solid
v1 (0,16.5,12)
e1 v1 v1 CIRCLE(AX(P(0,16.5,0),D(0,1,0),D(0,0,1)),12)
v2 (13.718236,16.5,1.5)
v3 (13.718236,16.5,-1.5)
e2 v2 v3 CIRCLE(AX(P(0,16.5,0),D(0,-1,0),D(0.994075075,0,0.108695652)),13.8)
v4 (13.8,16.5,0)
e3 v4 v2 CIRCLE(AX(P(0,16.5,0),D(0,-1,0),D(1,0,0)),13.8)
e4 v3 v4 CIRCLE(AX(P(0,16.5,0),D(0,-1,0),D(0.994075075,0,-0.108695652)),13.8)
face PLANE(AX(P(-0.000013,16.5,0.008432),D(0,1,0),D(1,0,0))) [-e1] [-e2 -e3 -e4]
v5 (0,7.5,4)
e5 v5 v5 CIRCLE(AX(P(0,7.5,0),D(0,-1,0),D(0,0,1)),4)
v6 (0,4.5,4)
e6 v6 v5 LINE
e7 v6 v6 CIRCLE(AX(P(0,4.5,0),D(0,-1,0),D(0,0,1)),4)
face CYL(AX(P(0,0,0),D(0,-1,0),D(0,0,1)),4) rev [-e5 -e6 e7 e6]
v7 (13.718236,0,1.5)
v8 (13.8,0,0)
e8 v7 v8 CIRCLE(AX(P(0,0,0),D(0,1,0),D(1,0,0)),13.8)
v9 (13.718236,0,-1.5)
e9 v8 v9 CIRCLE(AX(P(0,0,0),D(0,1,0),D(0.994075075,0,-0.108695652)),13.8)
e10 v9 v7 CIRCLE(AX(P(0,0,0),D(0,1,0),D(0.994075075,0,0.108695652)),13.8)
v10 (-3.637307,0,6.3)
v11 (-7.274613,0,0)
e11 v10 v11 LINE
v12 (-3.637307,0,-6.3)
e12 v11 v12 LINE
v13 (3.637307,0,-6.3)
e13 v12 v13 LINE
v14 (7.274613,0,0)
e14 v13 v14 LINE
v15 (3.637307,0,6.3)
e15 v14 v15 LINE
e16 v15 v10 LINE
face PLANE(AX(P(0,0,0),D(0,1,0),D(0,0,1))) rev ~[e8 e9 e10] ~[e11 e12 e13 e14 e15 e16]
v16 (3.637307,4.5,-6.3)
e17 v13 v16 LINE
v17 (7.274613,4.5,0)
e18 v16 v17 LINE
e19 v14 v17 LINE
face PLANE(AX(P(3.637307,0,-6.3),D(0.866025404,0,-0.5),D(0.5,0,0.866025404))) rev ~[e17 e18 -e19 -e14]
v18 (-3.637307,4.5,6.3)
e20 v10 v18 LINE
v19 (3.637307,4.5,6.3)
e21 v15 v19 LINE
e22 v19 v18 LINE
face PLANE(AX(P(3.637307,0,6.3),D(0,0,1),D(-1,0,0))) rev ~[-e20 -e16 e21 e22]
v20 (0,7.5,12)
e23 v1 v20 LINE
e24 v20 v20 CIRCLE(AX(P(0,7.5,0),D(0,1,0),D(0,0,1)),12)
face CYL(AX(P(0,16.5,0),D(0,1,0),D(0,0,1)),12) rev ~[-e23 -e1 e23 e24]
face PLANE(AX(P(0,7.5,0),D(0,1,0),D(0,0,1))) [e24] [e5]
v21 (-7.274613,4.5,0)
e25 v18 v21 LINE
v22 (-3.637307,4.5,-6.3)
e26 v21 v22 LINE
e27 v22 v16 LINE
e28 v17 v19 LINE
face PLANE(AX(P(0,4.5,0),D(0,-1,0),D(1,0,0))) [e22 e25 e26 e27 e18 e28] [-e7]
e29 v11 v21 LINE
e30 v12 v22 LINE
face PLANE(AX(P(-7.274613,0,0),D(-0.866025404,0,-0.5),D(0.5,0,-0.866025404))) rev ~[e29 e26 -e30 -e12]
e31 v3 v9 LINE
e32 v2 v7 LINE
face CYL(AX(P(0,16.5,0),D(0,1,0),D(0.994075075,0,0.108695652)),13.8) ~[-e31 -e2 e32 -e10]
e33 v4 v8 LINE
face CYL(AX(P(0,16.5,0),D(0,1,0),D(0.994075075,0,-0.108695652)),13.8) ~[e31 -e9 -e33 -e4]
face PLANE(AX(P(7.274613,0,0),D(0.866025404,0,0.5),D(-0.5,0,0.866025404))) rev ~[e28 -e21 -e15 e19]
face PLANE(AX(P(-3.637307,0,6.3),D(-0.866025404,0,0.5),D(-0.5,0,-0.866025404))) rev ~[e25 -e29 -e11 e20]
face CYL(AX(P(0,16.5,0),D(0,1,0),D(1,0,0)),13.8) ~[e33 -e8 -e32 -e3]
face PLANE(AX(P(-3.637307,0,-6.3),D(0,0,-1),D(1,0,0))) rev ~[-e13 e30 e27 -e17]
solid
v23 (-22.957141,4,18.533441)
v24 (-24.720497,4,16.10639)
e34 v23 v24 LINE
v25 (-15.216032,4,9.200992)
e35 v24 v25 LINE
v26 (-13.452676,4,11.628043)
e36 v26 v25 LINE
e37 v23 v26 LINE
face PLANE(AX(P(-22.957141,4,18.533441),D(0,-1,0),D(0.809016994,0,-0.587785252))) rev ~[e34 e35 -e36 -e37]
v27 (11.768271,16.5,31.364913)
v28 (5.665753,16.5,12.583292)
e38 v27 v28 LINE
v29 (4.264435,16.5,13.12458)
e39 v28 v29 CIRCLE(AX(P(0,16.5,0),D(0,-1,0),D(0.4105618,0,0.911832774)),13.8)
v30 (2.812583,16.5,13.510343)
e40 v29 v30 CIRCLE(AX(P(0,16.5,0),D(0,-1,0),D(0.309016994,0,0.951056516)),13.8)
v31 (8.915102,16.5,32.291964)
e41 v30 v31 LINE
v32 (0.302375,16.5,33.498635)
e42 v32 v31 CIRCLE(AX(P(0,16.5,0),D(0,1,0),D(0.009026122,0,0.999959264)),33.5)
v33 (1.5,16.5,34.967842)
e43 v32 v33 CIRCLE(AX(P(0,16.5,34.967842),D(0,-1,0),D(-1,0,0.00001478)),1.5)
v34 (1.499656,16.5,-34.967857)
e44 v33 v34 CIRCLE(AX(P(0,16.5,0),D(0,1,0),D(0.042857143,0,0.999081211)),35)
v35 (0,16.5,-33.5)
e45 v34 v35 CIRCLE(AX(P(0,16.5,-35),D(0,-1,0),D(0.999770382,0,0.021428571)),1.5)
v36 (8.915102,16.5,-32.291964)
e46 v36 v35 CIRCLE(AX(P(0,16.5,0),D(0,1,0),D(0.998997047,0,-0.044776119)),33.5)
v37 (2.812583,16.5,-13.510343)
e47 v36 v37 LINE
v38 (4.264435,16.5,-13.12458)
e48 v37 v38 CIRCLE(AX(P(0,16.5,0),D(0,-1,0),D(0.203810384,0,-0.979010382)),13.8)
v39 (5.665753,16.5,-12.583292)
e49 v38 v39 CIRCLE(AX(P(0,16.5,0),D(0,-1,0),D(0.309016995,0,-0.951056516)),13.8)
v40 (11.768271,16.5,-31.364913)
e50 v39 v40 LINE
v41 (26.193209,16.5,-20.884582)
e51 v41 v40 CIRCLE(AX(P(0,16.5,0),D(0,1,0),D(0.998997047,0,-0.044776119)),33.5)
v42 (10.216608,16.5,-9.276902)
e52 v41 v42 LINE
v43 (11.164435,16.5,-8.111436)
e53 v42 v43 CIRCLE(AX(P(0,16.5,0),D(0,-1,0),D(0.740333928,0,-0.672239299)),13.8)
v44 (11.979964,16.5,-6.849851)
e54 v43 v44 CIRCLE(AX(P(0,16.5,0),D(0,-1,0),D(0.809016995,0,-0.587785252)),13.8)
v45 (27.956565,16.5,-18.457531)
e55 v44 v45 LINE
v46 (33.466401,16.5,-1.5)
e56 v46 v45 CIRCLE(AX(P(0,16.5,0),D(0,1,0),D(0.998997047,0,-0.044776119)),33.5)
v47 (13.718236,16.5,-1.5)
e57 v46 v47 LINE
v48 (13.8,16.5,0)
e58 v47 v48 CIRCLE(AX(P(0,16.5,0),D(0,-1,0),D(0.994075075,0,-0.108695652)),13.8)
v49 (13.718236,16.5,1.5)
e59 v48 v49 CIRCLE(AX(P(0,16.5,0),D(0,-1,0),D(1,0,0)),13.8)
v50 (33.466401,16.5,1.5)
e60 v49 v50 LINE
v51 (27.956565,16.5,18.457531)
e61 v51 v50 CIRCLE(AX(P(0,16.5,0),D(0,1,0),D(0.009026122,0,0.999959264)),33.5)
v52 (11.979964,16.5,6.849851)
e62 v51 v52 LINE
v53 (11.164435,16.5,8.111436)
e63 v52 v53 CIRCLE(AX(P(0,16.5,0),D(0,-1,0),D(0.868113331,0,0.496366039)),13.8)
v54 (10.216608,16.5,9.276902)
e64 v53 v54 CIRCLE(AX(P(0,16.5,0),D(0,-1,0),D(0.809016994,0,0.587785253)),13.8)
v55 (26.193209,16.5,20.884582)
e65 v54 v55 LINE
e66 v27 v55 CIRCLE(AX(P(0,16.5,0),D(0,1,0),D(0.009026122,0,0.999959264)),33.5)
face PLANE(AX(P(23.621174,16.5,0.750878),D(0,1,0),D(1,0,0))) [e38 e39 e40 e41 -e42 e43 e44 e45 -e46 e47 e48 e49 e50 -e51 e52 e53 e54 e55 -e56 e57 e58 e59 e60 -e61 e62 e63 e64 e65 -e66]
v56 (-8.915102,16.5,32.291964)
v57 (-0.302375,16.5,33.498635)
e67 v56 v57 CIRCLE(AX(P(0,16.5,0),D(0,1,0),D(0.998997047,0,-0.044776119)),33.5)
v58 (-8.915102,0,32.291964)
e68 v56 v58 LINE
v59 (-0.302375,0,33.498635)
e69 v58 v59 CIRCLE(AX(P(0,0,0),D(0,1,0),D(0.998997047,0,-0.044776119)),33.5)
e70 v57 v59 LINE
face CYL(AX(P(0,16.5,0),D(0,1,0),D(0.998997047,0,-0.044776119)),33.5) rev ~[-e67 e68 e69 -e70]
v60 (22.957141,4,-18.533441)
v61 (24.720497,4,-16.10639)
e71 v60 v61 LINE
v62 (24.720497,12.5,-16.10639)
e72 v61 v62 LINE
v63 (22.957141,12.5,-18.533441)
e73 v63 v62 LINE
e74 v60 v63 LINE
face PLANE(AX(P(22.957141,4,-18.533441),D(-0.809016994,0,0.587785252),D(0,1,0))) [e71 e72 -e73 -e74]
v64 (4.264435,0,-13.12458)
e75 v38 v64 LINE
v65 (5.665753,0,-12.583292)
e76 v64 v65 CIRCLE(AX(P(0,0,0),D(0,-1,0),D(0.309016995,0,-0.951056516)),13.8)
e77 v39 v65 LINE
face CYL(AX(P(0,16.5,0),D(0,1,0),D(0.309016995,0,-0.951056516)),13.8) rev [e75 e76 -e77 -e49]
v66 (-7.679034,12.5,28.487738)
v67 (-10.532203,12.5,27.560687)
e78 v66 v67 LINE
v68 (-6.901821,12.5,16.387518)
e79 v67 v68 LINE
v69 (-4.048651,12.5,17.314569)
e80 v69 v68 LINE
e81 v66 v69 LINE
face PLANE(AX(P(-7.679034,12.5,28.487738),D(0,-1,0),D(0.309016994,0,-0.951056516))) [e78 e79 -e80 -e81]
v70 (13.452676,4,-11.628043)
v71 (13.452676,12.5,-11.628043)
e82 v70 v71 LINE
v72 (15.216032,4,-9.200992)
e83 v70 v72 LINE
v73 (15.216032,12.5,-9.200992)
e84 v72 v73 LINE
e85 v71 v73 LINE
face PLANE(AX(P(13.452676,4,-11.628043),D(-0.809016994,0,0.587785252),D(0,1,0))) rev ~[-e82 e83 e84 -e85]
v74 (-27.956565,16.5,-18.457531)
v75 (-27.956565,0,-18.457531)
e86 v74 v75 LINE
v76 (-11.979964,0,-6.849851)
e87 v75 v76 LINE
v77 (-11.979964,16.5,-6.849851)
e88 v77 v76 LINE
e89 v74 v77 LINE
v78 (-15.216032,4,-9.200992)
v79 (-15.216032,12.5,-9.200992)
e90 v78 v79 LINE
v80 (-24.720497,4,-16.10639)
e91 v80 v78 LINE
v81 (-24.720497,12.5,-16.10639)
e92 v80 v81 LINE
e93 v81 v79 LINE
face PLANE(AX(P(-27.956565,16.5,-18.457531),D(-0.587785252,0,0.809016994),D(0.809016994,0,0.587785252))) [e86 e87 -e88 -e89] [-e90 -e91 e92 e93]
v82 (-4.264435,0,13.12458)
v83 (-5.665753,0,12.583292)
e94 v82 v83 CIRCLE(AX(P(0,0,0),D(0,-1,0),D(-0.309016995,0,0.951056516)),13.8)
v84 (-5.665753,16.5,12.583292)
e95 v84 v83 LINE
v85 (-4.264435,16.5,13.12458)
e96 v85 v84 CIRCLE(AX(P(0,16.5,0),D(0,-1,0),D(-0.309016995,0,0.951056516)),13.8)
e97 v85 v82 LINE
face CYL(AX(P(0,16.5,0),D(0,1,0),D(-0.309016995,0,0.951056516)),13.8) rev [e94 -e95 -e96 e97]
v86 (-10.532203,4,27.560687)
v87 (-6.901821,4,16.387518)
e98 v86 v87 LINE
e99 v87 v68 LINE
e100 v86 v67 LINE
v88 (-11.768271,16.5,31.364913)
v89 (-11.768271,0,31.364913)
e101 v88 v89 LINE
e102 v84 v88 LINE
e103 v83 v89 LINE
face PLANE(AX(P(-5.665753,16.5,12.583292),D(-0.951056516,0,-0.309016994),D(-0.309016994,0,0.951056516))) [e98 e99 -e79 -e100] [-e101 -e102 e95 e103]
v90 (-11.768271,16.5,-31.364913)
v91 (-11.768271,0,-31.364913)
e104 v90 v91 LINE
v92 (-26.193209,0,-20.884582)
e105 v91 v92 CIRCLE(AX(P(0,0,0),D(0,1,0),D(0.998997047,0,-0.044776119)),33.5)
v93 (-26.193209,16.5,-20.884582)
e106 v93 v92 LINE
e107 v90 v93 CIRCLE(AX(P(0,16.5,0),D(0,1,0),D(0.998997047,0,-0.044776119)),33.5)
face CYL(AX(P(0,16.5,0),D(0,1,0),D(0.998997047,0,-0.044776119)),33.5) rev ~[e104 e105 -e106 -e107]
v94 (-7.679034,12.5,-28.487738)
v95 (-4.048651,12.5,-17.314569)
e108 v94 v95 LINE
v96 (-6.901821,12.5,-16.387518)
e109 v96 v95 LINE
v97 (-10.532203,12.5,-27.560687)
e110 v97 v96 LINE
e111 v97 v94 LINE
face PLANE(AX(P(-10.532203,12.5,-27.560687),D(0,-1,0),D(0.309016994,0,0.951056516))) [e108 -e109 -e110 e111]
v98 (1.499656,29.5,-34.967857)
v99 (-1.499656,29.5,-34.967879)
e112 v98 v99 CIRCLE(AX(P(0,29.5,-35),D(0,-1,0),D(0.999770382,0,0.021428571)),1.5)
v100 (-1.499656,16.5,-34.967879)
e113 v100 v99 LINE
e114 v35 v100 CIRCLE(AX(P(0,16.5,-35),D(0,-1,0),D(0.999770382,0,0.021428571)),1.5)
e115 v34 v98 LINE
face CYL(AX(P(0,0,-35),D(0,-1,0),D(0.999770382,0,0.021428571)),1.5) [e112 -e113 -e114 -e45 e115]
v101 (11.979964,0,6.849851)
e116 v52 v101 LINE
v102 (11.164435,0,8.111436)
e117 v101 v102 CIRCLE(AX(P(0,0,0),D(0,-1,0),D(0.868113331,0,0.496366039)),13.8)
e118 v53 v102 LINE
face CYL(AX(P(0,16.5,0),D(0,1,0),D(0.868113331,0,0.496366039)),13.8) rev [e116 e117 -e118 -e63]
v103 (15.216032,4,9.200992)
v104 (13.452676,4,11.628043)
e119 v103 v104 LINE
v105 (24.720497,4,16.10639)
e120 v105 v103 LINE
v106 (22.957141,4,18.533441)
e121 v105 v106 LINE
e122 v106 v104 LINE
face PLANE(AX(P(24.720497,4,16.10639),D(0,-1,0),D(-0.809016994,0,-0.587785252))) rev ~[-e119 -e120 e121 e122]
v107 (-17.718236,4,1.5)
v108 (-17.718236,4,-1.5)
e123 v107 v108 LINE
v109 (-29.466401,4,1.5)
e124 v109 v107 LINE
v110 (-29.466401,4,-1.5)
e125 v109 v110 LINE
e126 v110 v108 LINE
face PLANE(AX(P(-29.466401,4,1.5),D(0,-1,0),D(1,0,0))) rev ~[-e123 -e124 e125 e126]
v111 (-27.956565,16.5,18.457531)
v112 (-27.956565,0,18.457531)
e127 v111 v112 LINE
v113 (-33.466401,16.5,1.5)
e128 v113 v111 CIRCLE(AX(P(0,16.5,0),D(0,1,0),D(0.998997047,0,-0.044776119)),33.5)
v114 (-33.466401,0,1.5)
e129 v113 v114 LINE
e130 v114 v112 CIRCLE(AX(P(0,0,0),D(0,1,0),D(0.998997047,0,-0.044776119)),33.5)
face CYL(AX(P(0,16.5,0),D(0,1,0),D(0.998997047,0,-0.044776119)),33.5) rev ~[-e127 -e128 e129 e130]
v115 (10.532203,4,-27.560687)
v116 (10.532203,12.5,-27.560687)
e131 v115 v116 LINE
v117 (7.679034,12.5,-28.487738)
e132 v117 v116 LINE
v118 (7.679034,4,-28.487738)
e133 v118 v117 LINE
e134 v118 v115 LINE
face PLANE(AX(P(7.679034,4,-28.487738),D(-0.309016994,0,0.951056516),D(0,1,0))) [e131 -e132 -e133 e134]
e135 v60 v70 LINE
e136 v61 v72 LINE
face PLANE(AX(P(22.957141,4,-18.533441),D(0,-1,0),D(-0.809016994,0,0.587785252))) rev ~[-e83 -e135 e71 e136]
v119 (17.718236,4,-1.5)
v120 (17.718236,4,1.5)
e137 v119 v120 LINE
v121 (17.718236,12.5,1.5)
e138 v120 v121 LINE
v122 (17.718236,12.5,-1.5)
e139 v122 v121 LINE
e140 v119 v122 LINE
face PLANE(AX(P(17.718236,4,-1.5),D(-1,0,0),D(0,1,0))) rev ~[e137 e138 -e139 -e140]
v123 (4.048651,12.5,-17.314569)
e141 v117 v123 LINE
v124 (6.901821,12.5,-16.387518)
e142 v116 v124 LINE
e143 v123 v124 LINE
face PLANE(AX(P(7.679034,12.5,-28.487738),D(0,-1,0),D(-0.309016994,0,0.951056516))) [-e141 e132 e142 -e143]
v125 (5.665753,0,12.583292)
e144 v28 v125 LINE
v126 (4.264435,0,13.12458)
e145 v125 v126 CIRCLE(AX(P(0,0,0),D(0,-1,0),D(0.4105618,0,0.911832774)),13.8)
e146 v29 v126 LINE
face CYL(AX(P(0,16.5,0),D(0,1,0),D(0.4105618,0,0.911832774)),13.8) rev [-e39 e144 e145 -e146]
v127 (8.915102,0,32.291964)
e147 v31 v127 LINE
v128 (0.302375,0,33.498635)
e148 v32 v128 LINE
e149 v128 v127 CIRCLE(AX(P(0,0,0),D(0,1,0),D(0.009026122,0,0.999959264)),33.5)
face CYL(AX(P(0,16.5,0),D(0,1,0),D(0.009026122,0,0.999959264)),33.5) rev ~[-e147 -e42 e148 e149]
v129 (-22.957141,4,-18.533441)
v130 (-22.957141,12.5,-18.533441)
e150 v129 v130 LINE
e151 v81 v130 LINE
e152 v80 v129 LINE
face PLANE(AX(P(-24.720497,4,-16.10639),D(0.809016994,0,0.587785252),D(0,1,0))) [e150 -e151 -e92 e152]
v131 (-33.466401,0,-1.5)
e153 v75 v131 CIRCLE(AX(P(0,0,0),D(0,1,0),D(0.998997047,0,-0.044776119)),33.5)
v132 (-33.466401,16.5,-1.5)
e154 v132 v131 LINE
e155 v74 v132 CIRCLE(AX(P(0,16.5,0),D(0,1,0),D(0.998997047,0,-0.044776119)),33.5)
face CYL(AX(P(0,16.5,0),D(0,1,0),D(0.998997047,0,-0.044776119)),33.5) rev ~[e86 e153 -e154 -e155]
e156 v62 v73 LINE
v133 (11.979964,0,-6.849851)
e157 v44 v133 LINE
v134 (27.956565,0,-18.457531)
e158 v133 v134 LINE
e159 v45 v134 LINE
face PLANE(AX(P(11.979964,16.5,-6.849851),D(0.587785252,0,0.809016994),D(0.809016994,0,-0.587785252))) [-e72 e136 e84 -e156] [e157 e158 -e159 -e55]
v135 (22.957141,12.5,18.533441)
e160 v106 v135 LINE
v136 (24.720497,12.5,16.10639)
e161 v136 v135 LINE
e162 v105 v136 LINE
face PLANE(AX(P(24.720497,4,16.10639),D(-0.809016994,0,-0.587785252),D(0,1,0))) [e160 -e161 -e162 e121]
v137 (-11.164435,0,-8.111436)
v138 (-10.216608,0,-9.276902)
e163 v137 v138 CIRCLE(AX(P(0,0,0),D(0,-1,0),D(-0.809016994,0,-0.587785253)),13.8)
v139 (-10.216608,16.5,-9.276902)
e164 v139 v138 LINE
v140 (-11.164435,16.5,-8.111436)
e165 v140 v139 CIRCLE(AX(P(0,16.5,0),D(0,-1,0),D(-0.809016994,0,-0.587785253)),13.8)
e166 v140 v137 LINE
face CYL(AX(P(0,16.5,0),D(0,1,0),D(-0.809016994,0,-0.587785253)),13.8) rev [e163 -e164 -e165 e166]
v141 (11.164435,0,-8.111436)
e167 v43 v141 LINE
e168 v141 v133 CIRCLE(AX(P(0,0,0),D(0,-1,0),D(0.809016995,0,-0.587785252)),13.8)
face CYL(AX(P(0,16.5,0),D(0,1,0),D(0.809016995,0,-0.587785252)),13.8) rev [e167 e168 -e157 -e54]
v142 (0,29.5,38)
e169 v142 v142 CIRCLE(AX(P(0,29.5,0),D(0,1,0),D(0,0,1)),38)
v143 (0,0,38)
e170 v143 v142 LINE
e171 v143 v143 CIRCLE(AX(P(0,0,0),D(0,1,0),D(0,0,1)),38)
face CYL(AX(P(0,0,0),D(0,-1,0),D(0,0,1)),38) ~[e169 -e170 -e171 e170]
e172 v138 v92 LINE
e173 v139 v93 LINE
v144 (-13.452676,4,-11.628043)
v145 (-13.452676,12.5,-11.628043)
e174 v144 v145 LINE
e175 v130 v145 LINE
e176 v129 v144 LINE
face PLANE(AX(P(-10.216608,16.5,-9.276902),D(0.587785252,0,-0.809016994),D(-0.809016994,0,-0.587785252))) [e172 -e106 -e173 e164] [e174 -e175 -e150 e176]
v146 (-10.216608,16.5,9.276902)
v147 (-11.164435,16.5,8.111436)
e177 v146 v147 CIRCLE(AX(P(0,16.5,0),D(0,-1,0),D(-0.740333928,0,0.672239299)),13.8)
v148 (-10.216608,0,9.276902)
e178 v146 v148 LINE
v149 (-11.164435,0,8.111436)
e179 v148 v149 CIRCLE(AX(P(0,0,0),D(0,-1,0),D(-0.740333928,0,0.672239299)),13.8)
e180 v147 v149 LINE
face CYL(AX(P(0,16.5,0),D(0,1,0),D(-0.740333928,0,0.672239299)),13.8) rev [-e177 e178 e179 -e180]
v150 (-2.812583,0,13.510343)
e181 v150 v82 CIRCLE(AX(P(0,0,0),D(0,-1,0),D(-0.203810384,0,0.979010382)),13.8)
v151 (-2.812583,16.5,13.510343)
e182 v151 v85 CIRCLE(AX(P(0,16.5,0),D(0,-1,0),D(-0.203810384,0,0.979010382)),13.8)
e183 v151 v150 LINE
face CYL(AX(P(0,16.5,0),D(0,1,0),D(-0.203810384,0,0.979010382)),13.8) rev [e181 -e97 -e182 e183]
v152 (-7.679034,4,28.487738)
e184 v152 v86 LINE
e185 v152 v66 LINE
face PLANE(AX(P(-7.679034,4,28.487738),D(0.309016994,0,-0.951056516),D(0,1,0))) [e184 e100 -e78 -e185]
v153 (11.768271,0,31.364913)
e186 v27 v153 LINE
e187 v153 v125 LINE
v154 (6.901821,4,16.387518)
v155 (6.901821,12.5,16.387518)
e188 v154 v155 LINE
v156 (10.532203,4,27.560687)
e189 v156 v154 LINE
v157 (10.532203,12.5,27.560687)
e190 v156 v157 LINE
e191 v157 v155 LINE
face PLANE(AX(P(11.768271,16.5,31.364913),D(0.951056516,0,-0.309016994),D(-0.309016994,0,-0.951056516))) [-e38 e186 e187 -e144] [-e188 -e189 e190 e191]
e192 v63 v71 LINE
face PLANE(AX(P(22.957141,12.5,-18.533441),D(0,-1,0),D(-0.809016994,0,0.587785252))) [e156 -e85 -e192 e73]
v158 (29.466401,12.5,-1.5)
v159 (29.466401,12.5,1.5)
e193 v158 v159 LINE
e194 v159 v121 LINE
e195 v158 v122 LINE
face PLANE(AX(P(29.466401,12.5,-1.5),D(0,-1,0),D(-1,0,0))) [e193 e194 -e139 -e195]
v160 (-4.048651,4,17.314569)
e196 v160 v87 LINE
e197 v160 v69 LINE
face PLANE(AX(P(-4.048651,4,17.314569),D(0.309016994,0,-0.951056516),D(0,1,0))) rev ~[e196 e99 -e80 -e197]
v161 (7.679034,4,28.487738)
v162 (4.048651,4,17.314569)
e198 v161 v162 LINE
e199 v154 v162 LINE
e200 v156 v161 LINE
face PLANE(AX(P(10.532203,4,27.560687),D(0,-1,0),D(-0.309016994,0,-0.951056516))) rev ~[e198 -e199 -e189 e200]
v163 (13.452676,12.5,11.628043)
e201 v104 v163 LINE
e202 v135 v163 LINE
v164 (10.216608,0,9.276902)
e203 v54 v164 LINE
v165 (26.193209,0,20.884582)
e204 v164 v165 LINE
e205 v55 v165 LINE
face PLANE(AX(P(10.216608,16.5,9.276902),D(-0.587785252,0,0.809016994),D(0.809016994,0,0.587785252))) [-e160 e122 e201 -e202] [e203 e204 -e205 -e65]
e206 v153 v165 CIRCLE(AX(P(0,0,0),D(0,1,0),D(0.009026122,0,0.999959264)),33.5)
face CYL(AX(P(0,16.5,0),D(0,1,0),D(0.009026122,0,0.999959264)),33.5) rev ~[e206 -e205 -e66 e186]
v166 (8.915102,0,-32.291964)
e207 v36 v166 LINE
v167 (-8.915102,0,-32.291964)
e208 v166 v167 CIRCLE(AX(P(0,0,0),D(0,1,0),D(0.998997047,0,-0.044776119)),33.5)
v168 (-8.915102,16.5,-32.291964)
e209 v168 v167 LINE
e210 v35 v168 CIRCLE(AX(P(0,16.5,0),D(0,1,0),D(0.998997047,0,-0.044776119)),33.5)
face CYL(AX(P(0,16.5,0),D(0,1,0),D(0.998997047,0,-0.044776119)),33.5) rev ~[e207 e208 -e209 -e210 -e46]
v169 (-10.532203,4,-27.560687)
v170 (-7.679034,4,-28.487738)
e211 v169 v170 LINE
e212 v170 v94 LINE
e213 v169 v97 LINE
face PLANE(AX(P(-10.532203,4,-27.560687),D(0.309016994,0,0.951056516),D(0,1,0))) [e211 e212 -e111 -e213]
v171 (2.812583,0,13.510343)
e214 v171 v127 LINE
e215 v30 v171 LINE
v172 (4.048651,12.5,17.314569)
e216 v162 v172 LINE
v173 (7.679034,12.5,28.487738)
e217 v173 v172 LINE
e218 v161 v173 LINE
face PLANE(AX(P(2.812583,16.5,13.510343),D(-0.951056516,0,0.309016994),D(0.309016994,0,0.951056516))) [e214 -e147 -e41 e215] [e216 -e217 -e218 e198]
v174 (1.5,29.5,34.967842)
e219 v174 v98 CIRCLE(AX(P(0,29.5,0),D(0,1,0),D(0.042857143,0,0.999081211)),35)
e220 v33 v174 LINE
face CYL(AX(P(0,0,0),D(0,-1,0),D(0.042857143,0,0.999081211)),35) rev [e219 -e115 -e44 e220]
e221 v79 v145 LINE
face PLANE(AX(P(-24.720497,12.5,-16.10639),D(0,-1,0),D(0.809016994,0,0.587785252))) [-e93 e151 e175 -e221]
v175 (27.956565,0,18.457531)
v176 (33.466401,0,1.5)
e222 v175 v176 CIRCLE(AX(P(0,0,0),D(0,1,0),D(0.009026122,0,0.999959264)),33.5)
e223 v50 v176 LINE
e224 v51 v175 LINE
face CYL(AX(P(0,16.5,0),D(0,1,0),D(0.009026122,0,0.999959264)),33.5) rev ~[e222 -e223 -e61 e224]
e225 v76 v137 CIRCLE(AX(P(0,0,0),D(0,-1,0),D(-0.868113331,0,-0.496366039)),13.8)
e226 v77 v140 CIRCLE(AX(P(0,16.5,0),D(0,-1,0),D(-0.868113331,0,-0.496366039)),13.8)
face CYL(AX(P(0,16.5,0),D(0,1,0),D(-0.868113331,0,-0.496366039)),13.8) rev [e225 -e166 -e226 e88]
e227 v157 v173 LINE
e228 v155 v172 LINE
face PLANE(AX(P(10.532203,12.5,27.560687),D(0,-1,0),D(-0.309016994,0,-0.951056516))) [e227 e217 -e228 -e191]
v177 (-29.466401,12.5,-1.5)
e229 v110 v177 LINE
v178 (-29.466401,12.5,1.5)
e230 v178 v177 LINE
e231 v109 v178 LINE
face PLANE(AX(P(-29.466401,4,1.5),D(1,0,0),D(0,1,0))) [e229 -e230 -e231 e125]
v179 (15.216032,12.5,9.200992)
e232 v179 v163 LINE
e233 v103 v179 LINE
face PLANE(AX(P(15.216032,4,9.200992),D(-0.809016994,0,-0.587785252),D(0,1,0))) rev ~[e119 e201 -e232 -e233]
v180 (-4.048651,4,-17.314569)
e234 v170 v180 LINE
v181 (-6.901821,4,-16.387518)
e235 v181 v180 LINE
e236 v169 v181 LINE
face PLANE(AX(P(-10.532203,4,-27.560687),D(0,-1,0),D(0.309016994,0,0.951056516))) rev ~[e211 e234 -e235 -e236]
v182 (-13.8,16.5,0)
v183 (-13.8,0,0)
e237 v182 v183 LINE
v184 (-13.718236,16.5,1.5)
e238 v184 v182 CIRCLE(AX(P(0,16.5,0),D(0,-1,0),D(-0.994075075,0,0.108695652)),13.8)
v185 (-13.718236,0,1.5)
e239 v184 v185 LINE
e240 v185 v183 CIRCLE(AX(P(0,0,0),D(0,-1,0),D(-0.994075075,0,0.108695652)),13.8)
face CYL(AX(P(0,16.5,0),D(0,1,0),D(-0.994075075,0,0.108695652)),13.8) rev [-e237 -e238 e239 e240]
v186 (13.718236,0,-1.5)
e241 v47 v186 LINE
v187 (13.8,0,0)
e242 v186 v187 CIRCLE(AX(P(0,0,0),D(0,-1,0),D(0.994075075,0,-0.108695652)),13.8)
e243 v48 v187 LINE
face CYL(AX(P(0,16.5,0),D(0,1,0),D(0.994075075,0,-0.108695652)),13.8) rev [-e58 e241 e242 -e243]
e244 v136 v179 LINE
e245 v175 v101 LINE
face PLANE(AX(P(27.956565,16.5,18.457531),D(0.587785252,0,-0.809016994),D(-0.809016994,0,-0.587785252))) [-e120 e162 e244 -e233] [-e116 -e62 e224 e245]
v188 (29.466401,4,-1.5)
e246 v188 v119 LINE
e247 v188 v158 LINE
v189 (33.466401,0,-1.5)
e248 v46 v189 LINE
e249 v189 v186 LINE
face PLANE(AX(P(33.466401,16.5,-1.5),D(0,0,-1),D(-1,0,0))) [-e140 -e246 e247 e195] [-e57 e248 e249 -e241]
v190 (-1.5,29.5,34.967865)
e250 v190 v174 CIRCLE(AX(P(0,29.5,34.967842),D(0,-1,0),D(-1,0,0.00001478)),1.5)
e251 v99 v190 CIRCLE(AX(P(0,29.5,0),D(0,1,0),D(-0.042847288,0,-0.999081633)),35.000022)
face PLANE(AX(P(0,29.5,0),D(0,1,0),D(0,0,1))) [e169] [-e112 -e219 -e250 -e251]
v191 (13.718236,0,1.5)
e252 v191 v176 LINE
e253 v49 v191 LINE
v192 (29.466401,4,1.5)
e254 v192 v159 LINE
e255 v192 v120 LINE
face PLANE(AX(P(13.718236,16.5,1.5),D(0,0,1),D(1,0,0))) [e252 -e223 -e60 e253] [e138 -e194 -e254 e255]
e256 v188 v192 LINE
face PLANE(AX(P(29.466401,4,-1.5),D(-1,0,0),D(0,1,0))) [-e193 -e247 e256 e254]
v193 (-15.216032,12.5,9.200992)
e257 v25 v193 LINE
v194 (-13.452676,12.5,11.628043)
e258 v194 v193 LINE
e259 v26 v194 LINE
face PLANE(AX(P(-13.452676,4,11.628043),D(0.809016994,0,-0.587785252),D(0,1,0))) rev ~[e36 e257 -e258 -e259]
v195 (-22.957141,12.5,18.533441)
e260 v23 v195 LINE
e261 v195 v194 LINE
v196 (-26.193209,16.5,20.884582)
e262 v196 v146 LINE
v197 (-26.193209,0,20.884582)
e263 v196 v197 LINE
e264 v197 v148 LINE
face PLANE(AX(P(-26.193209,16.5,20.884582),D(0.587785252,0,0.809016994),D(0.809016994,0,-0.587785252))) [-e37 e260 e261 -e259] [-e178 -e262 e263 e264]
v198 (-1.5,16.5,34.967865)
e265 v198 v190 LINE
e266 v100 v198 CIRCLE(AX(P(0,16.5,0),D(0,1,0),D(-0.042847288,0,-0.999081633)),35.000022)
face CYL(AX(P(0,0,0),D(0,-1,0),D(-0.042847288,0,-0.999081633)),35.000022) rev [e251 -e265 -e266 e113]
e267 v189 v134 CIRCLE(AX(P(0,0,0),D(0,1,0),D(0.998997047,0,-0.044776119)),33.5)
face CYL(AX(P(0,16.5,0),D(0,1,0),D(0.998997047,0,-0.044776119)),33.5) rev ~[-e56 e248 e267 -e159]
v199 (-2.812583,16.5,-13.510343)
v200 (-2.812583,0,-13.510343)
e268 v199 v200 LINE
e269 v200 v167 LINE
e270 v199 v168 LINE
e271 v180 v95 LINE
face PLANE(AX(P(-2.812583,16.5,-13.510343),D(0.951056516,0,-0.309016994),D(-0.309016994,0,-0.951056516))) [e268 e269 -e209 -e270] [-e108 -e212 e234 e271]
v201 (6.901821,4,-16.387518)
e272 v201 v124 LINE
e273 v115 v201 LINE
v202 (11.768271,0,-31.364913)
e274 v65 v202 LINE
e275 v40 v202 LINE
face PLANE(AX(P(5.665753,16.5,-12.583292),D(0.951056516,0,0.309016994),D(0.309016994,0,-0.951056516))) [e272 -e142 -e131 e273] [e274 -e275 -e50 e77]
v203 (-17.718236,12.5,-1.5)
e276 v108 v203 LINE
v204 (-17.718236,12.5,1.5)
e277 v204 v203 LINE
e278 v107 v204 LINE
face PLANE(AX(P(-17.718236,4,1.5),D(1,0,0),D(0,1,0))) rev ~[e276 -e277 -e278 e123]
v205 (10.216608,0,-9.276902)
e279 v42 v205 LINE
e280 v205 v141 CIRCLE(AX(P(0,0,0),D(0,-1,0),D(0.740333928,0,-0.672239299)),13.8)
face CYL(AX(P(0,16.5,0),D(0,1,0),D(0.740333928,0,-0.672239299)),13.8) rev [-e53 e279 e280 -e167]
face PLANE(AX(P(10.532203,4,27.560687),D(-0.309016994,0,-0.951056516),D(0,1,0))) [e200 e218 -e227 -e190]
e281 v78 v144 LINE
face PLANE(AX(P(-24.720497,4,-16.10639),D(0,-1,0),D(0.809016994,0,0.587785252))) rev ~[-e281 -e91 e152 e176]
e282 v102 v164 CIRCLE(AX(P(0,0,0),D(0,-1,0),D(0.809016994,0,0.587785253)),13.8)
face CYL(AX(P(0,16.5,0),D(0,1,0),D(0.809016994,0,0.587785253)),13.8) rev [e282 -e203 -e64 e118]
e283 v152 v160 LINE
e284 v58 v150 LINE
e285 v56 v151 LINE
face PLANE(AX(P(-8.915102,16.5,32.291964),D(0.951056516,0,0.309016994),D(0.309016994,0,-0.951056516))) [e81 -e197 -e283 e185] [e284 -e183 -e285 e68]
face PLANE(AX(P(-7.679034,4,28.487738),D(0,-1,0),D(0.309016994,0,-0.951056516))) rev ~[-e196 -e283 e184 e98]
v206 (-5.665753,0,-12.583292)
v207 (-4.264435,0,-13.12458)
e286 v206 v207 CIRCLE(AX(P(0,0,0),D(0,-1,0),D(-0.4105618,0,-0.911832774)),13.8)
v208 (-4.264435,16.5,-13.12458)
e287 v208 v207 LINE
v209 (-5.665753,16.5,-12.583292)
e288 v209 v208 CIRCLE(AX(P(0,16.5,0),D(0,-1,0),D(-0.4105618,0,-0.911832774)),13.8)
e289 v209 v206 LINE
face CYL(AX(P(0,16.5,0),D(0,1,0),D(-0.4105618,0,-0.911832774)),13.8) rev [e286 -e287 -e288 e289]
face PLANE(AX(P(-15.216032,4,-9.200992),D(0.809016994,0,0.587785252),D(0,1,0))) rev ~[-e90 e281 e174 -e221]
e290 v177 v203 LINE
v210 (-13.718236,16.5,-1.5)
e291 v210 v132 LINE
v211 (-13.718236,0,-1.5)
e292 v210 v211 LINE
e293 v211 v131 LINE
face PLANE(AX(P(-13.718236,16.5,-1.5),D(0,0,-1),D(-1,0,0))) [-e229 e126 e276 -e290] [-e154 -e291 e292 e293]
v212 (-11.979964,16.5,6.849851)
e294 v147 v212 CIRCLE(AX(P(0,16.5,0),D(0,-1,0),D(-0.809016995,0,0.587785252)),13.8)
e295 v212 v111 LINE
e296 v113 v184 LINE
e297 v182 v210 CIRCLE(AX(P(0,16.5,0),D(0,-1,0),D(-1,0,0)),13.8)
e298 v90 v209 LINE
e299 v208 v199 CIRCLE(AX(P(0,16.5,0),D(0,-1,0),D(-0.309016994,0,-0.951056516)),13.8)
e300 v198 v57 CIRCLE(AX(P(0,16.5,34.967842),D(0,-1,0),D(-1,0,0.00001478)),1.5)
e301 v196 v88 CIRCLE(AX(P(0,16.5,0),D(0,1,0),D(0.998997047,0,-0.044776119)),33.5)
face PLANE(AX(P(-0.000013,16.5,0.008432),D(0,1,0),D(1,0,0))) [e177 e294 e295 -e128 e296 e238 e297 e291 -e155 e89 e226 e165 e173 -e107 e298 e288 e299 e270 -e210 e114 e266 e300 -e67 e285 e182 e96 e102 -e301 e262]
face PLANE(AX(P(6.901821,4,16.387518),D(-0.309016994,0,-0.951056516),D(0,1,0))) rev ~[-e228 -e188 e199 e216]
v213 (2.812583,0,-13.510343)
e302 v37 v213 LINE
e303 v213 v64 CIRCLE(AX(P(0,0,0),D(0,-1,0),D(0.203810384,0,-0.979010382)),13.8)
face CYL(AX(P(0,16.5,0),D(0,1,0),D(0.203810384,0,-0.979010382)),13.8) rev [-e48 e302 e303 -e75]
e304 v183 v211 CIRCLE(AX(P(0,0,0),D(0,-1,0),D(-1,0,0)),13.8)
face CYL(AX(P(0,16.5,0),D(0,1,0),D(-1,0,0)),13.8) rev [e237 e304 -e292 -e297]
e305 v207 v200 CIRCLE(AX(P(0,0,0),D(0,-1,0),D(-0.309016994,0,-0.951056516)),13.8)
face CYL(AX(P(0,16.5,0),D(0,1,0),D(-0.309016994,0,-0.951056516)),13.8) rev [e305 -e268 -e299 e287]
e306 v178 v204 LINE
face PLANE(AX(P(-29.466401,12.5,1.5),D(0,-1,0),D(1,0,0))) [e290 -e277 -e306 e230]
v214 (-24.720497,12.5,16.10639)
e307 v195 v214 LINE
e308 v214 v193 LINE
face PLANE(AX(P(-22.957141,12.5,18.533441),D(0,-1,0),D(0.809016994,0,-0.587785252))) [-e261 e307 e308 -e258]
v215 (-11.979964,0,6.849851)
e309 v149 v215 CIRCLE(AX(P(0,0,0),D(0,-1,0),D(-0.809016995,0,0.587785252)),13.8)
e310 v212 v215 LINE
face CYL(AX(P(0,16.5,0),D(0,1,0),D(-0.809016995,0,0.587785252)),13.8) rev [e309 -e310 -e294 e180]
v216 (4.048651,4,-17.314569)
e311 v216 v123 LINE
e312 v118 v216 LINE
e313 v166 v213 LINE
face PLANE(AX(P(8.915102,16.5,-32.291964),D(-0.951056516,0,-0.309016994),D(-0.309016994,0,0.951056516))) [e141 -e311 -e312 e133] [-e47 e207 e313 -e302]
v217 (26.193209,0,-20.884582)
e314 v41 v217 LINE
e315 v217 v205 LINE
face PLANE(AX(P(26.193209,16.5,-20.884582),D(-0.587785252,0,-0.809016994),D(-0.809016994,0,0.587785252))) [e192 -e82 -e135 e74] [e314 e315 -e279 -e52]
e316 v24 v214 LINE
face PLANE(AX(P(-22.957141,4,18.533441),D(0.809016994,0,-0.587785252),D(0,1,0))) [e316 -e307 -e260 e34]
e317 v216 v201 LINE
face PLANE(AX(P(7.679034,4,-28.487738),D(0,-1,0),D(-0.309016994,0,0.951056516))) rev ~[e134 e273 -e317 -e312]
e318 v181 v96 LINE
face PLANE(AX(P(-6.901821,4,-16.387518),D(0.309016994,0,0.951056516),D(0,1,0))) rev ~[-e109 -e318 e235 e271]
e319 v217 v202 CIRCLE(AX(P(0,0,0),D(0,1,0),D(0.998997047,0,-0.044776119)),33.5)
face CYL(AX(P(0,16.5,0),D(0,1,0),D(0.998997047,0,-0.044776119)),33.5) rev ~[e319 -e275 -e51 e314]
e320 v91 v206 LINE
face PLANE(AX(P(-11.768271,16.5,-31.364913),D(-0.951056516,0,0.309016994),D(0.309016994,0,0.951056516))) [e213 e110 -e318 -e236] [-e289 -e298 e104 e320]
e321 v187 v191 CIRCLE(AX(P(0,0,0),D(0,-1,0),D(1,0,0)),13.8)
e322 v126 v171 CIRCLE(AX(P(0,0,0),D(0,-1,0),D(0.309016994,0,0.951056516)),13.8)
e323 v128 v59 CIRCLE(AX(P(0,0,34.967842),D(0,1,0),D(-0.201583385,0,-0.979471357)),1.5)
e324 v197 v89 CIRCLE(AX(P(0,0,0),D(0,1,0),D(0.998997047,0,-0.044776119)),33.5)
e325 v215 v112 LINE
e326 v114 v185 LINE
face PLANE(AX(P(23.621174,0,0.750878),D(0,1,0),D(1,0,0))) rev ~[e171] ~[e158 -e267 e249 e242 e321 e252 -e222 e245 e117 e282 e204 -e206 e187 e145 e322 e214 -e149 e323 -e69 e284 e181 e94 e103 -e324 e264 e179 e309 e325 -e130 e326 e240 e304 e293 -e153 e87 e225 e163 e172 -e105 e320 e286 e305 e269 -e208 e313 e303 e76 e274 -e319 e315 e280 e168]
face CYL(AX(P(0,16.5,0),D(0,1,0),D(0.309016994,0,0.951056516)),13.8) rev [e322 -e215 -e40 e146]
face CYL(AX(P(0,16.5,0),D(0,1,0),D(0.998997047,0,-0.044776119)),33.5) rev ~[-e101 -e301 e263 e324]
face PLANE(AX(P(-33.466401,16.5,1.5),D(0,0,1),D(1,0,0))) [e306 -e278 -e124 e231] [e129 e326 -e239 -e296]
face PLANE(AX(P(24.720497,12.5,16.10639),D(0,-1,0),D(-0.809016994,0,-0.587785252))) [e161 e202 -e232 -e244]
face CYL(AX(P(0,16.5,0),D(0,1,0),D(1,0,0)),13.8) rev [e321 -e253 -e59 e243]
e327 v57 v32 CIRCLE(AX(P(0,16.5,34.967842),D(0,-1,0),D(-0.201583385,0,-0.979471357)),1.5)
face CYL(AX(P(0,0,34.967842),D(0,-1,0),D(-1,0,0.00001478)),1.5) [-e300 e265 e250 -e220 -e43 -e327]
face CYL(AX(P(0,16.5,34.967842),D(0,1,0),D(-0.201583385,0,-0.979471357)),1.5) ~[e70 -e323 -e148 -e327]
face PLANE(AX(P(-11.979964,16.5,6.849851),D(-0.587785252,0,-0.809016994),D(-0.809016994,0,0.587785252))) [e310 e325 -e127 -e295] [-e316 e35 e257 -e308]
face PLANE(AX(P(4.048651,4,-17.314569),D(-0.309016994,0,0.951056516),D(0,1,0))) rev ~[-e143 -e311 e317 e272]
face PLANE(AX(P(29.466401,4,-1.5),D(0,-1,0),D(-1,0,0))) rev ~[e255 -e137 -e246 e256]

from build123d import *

# Parameters (mm, degrees)
SKETCH1_R           = 4
BOSS_EXTRUDE1_DEPTH = 16.5
SKETCH1_3_R         = 38
BOSS_EXTRUDE2_DEPTH = 29.5
CUT_EXTRUDE1_DEPTH  = 4.5
SKETCH3_R           = 12
CUT_EXTRUDE2_DEPTH  = 9
CUT_EXTRUDE4_DEPTH  = 57.216100896
BOSS_EXTRUDE6_DEPTH = 16.5
SKETCH6_W           = 11.748165023
SKETCH6_H           = 8.5
CUT_EXTRUDE5_DEPTH  = 3
CIRPATTERN1_COUNT   = 10
CIRPATTERN1_2_COUNT = 10


with BuildPart() as part:
    # Sketch1 → Boss-Extrude1 (new body)
    with BuildSketch(Plane(origin=(0, 0, 0), x_dir=(1, 0, 0), z_dir=(0, 1, 0))):
        with BuildLine():
            ThreePointArc((1.5, -34.96784237), (35, 0.000172372), (1.499655573, 34.967857143))
            ThreePointArc((1.499655573, 34.967857143), (-1.1078e-05, 33.5), (-1.499656047, 34.967879293))
            ThreePointArc((-1.499656047, 34.967879293), (-35.00002215, 0.000172134), (-1.5, -34.96786454))
            ThreePointArc((-1.5, -34.96786454), (-1.1085e-05, -33.46784237), (1.5, -34.96784237))
        make_face()
        with Locations(Location((0, 0, 0), (0, 0, 270))):
            Circle(SKETCH1_R, mode=Mode.SUBTRACT)
    extrude(amount=BOSS_EXTRUDE1_DEPTH)

    # Sketch1<3> → Boss-Extrude2 (add)
    with BuildSketch(Plane(origin=(0, 0, 0), x_dir=(1, 0, 0), z_dir=(0, 1, 0))):
        with Locations(Location((0, 0, 0), (0, 0, 270))):
            Circle(SKETCH1_3_R)
        with BuildLine():
            ThreePointArc((1.5, -34.96784237), (35, 0.000172372), (1.499655573, 34.967857143))
            ThreePointArc((1.499655573, 34.967857143), (-1.1078e-05, 33.5), (-1.499656047, 34.967879293))
            ThreePointArc((-1.499656047, 34.967879293), (-35.00002215, 0.000172134), (-1.5, -34.96786454))
            ThreePointArc((-1.5, -34.96786454), (-1.1085e-05, -33.46784237), (1.5, -34.96784237))
        make_face(mode=Mode.SUBTRACT)
    extrude(amount=BOSS_EXTRUDE2_DEPTH)

    # Sketch2 → Cut-Extrude1 (cut)
    with BuildSketch(Plane.XZ):
        Polygon((-3.637306696, 6.3), (-7.274613392, 0), (-3.637306696, -6.3), (3.637306696, -6.3), (7.274613392, 0), (3.637306696, 6.3), align=None)
    extrude(amount=-CUT_EXTRUDE1_DEPTH, mode=Mode.SUBTRACT)

    # Sketch3 → Cut-Extrude2 (cut)
    with BuildSketch(Plane(origin=(0, 16.5, 0), x_dir=(1, 0, 0), z_dir=(0, 1, 0))):
        with Locations(Location((0, 0, 0), (0, 0, 270))):
            Circle(SKETCH3_R)
    extrude(amount=-CUT_EXTRUDE2_DEPTH, mode=Mode.SUBTRACT)

    # Sketch5 → Cut-Extrude4 (cut, through all)
    with BuildSketch(Plane(origin=(0, 16.5, 0), x_dir=(1, 0, 0), z_dir=(0, 1, 0))):
        with BuildLine():
            ThreePointArc((13.718236038, -1.5), (-13.8, 0), (13.718236038, 1.5))
            Line((13.718236038, 1.5), (33.466401061, 1.5))
            ThreePointArc((33.466401061, 1.5), (-24.107867464, 23.260712077), (-0.30237508, -33.498635335))
            ThreePointArc((-0.30237508, -33.498635335), (0, -33.46784237), (0.30237508, -33.498635335))
            ThreePointArc((0.30237508, -33.498635335), (23.260712077, -24.107867464), (33.466401061, -1.5))
            Line((33.466401061, -1.5), (13.718236038, -1.5))
        make_face()
        with BuildLine():
            ThreePointArc((13.718236038, 1.5), (13.779543848, 0.751113398), (13.8, 0))
            Line((13.8, 0), (33.5, 0))
            ThreePointArc((33.5, 0), (33.491599212, 0.750188125), (33.466401061, 1.5))
            Line((33.466401061, 1.5), (13.718236038, 1.5))
        make_face()
        with BuildLine():
            Line((33.5, 0), (13.8, 0))
            ThreePointArc((13.8, 0), (13.779543848, -0.751113398), (13.718236038, -1.5))
            Line((13.718236038, -1.5), (33.466401061, -1.5))
            ThreePointArc((33.466401061, -1.5), (33.491599212, -0.750188125), (33.5, 0))
        make_face()
    extrude(amount=-CUT_EXTRUDE4_DEPTH, mode=Mode.SUBTRACT)


with BuildPart() as cut_extrude4_piece_1:
    # of the separate pieces the step leaves, piece 1, a body of its own (cut_extrude4_pieces)
    add(part.part.solids().sort_by_distance((1.499655573, 16.5, -34.967857143))[0])

    # Sketch5<3> → Boss-Extrude6 (add)
    with BuildSketch(Plane(origin=(0, 16.5, 0), x_dir=(1, 0, 0), z_dir=(0, 1, 0))):
        with BuildLine():
            Line((33.5, 0), (13.8, 0))
            ThreePointArc((13.8, 0), (13.779543848, -0.751113398), (13.718236038, -1.5))
            Line((13.718236038, -1.5), (33.466401061, -1.5))
            ThreePointArc((33.466401061, -1.5), (33.491599212, -0.750188125), (33.5, 0))
        make_face()
        with BuildLine():
            ThreePointArc((13.718236038, 1.5), (13.779543848, 0.751113398), (13.8, 0))
            Line((13.8, 0), (33.5, 0))
            ThreePointArc((33.5, 0), (33.491599212, 0.750188125), (33.466401061, 1.5))
            Line((33.466401061, 1.5), (13.718236038, 1.5))
        make_face()
    boss_extrude6 = extrude(amount=-BOSS_EXTRUDE6_DEPTH)

    # Sketch6 → Cut-Extrude5 (cut)
    with BuildSketch(Plane(origin=(-0.880879479, 0, -1.5), x_dir=(-1, 0, 0), z_dir=(0, 0, -1))):
        with Locations((-24.473198029, 8.25)):
            Rectangle(SKETCH6_W, SKETCH6_H)
    cut_extrude5 = extrude(amount=-CUT_EXTRUDE5_DEPTH, mode=Mode.SUBTRACT)

    # CirPattern1: Boss-Extrude6 ×10 about axis
    cirpattern1_axis = Axis((0, 0, 0), (0, 1, 0))
    for i in range(1, CIRPATTERN1_COUNT):
        add(boss_extrude6.rotate(cirpattern1_axis, i * 360 / CIRPATTERN1_COUNT))

    # CirPattern1 2: Cut-Extrude5 ×10 about axis
    cirpattern1_2_axis = Axis((0, 0, 0), (0, 1, 0))
    for i in range(1, CIRPATTERN1_2_COUNT):
        add(cut_extrude5.rotate(cirpattern1_2_axis, i * 360 / CIRPATTERN1_2_COUNT), mode=Mode.SUBTRACT)


with BuildPart() as cut_extrude4_piece_2:
    # of the separate pieces the step leaves, piece 2, a body of its own (cut_extrude4_pieces)
    add(part.part.solids().sort_by_distance((0, 4.5, 4))[0])


solid = Compound([cut_extrude4_piece_1.part, cut_extrude4_piece_2.part])
